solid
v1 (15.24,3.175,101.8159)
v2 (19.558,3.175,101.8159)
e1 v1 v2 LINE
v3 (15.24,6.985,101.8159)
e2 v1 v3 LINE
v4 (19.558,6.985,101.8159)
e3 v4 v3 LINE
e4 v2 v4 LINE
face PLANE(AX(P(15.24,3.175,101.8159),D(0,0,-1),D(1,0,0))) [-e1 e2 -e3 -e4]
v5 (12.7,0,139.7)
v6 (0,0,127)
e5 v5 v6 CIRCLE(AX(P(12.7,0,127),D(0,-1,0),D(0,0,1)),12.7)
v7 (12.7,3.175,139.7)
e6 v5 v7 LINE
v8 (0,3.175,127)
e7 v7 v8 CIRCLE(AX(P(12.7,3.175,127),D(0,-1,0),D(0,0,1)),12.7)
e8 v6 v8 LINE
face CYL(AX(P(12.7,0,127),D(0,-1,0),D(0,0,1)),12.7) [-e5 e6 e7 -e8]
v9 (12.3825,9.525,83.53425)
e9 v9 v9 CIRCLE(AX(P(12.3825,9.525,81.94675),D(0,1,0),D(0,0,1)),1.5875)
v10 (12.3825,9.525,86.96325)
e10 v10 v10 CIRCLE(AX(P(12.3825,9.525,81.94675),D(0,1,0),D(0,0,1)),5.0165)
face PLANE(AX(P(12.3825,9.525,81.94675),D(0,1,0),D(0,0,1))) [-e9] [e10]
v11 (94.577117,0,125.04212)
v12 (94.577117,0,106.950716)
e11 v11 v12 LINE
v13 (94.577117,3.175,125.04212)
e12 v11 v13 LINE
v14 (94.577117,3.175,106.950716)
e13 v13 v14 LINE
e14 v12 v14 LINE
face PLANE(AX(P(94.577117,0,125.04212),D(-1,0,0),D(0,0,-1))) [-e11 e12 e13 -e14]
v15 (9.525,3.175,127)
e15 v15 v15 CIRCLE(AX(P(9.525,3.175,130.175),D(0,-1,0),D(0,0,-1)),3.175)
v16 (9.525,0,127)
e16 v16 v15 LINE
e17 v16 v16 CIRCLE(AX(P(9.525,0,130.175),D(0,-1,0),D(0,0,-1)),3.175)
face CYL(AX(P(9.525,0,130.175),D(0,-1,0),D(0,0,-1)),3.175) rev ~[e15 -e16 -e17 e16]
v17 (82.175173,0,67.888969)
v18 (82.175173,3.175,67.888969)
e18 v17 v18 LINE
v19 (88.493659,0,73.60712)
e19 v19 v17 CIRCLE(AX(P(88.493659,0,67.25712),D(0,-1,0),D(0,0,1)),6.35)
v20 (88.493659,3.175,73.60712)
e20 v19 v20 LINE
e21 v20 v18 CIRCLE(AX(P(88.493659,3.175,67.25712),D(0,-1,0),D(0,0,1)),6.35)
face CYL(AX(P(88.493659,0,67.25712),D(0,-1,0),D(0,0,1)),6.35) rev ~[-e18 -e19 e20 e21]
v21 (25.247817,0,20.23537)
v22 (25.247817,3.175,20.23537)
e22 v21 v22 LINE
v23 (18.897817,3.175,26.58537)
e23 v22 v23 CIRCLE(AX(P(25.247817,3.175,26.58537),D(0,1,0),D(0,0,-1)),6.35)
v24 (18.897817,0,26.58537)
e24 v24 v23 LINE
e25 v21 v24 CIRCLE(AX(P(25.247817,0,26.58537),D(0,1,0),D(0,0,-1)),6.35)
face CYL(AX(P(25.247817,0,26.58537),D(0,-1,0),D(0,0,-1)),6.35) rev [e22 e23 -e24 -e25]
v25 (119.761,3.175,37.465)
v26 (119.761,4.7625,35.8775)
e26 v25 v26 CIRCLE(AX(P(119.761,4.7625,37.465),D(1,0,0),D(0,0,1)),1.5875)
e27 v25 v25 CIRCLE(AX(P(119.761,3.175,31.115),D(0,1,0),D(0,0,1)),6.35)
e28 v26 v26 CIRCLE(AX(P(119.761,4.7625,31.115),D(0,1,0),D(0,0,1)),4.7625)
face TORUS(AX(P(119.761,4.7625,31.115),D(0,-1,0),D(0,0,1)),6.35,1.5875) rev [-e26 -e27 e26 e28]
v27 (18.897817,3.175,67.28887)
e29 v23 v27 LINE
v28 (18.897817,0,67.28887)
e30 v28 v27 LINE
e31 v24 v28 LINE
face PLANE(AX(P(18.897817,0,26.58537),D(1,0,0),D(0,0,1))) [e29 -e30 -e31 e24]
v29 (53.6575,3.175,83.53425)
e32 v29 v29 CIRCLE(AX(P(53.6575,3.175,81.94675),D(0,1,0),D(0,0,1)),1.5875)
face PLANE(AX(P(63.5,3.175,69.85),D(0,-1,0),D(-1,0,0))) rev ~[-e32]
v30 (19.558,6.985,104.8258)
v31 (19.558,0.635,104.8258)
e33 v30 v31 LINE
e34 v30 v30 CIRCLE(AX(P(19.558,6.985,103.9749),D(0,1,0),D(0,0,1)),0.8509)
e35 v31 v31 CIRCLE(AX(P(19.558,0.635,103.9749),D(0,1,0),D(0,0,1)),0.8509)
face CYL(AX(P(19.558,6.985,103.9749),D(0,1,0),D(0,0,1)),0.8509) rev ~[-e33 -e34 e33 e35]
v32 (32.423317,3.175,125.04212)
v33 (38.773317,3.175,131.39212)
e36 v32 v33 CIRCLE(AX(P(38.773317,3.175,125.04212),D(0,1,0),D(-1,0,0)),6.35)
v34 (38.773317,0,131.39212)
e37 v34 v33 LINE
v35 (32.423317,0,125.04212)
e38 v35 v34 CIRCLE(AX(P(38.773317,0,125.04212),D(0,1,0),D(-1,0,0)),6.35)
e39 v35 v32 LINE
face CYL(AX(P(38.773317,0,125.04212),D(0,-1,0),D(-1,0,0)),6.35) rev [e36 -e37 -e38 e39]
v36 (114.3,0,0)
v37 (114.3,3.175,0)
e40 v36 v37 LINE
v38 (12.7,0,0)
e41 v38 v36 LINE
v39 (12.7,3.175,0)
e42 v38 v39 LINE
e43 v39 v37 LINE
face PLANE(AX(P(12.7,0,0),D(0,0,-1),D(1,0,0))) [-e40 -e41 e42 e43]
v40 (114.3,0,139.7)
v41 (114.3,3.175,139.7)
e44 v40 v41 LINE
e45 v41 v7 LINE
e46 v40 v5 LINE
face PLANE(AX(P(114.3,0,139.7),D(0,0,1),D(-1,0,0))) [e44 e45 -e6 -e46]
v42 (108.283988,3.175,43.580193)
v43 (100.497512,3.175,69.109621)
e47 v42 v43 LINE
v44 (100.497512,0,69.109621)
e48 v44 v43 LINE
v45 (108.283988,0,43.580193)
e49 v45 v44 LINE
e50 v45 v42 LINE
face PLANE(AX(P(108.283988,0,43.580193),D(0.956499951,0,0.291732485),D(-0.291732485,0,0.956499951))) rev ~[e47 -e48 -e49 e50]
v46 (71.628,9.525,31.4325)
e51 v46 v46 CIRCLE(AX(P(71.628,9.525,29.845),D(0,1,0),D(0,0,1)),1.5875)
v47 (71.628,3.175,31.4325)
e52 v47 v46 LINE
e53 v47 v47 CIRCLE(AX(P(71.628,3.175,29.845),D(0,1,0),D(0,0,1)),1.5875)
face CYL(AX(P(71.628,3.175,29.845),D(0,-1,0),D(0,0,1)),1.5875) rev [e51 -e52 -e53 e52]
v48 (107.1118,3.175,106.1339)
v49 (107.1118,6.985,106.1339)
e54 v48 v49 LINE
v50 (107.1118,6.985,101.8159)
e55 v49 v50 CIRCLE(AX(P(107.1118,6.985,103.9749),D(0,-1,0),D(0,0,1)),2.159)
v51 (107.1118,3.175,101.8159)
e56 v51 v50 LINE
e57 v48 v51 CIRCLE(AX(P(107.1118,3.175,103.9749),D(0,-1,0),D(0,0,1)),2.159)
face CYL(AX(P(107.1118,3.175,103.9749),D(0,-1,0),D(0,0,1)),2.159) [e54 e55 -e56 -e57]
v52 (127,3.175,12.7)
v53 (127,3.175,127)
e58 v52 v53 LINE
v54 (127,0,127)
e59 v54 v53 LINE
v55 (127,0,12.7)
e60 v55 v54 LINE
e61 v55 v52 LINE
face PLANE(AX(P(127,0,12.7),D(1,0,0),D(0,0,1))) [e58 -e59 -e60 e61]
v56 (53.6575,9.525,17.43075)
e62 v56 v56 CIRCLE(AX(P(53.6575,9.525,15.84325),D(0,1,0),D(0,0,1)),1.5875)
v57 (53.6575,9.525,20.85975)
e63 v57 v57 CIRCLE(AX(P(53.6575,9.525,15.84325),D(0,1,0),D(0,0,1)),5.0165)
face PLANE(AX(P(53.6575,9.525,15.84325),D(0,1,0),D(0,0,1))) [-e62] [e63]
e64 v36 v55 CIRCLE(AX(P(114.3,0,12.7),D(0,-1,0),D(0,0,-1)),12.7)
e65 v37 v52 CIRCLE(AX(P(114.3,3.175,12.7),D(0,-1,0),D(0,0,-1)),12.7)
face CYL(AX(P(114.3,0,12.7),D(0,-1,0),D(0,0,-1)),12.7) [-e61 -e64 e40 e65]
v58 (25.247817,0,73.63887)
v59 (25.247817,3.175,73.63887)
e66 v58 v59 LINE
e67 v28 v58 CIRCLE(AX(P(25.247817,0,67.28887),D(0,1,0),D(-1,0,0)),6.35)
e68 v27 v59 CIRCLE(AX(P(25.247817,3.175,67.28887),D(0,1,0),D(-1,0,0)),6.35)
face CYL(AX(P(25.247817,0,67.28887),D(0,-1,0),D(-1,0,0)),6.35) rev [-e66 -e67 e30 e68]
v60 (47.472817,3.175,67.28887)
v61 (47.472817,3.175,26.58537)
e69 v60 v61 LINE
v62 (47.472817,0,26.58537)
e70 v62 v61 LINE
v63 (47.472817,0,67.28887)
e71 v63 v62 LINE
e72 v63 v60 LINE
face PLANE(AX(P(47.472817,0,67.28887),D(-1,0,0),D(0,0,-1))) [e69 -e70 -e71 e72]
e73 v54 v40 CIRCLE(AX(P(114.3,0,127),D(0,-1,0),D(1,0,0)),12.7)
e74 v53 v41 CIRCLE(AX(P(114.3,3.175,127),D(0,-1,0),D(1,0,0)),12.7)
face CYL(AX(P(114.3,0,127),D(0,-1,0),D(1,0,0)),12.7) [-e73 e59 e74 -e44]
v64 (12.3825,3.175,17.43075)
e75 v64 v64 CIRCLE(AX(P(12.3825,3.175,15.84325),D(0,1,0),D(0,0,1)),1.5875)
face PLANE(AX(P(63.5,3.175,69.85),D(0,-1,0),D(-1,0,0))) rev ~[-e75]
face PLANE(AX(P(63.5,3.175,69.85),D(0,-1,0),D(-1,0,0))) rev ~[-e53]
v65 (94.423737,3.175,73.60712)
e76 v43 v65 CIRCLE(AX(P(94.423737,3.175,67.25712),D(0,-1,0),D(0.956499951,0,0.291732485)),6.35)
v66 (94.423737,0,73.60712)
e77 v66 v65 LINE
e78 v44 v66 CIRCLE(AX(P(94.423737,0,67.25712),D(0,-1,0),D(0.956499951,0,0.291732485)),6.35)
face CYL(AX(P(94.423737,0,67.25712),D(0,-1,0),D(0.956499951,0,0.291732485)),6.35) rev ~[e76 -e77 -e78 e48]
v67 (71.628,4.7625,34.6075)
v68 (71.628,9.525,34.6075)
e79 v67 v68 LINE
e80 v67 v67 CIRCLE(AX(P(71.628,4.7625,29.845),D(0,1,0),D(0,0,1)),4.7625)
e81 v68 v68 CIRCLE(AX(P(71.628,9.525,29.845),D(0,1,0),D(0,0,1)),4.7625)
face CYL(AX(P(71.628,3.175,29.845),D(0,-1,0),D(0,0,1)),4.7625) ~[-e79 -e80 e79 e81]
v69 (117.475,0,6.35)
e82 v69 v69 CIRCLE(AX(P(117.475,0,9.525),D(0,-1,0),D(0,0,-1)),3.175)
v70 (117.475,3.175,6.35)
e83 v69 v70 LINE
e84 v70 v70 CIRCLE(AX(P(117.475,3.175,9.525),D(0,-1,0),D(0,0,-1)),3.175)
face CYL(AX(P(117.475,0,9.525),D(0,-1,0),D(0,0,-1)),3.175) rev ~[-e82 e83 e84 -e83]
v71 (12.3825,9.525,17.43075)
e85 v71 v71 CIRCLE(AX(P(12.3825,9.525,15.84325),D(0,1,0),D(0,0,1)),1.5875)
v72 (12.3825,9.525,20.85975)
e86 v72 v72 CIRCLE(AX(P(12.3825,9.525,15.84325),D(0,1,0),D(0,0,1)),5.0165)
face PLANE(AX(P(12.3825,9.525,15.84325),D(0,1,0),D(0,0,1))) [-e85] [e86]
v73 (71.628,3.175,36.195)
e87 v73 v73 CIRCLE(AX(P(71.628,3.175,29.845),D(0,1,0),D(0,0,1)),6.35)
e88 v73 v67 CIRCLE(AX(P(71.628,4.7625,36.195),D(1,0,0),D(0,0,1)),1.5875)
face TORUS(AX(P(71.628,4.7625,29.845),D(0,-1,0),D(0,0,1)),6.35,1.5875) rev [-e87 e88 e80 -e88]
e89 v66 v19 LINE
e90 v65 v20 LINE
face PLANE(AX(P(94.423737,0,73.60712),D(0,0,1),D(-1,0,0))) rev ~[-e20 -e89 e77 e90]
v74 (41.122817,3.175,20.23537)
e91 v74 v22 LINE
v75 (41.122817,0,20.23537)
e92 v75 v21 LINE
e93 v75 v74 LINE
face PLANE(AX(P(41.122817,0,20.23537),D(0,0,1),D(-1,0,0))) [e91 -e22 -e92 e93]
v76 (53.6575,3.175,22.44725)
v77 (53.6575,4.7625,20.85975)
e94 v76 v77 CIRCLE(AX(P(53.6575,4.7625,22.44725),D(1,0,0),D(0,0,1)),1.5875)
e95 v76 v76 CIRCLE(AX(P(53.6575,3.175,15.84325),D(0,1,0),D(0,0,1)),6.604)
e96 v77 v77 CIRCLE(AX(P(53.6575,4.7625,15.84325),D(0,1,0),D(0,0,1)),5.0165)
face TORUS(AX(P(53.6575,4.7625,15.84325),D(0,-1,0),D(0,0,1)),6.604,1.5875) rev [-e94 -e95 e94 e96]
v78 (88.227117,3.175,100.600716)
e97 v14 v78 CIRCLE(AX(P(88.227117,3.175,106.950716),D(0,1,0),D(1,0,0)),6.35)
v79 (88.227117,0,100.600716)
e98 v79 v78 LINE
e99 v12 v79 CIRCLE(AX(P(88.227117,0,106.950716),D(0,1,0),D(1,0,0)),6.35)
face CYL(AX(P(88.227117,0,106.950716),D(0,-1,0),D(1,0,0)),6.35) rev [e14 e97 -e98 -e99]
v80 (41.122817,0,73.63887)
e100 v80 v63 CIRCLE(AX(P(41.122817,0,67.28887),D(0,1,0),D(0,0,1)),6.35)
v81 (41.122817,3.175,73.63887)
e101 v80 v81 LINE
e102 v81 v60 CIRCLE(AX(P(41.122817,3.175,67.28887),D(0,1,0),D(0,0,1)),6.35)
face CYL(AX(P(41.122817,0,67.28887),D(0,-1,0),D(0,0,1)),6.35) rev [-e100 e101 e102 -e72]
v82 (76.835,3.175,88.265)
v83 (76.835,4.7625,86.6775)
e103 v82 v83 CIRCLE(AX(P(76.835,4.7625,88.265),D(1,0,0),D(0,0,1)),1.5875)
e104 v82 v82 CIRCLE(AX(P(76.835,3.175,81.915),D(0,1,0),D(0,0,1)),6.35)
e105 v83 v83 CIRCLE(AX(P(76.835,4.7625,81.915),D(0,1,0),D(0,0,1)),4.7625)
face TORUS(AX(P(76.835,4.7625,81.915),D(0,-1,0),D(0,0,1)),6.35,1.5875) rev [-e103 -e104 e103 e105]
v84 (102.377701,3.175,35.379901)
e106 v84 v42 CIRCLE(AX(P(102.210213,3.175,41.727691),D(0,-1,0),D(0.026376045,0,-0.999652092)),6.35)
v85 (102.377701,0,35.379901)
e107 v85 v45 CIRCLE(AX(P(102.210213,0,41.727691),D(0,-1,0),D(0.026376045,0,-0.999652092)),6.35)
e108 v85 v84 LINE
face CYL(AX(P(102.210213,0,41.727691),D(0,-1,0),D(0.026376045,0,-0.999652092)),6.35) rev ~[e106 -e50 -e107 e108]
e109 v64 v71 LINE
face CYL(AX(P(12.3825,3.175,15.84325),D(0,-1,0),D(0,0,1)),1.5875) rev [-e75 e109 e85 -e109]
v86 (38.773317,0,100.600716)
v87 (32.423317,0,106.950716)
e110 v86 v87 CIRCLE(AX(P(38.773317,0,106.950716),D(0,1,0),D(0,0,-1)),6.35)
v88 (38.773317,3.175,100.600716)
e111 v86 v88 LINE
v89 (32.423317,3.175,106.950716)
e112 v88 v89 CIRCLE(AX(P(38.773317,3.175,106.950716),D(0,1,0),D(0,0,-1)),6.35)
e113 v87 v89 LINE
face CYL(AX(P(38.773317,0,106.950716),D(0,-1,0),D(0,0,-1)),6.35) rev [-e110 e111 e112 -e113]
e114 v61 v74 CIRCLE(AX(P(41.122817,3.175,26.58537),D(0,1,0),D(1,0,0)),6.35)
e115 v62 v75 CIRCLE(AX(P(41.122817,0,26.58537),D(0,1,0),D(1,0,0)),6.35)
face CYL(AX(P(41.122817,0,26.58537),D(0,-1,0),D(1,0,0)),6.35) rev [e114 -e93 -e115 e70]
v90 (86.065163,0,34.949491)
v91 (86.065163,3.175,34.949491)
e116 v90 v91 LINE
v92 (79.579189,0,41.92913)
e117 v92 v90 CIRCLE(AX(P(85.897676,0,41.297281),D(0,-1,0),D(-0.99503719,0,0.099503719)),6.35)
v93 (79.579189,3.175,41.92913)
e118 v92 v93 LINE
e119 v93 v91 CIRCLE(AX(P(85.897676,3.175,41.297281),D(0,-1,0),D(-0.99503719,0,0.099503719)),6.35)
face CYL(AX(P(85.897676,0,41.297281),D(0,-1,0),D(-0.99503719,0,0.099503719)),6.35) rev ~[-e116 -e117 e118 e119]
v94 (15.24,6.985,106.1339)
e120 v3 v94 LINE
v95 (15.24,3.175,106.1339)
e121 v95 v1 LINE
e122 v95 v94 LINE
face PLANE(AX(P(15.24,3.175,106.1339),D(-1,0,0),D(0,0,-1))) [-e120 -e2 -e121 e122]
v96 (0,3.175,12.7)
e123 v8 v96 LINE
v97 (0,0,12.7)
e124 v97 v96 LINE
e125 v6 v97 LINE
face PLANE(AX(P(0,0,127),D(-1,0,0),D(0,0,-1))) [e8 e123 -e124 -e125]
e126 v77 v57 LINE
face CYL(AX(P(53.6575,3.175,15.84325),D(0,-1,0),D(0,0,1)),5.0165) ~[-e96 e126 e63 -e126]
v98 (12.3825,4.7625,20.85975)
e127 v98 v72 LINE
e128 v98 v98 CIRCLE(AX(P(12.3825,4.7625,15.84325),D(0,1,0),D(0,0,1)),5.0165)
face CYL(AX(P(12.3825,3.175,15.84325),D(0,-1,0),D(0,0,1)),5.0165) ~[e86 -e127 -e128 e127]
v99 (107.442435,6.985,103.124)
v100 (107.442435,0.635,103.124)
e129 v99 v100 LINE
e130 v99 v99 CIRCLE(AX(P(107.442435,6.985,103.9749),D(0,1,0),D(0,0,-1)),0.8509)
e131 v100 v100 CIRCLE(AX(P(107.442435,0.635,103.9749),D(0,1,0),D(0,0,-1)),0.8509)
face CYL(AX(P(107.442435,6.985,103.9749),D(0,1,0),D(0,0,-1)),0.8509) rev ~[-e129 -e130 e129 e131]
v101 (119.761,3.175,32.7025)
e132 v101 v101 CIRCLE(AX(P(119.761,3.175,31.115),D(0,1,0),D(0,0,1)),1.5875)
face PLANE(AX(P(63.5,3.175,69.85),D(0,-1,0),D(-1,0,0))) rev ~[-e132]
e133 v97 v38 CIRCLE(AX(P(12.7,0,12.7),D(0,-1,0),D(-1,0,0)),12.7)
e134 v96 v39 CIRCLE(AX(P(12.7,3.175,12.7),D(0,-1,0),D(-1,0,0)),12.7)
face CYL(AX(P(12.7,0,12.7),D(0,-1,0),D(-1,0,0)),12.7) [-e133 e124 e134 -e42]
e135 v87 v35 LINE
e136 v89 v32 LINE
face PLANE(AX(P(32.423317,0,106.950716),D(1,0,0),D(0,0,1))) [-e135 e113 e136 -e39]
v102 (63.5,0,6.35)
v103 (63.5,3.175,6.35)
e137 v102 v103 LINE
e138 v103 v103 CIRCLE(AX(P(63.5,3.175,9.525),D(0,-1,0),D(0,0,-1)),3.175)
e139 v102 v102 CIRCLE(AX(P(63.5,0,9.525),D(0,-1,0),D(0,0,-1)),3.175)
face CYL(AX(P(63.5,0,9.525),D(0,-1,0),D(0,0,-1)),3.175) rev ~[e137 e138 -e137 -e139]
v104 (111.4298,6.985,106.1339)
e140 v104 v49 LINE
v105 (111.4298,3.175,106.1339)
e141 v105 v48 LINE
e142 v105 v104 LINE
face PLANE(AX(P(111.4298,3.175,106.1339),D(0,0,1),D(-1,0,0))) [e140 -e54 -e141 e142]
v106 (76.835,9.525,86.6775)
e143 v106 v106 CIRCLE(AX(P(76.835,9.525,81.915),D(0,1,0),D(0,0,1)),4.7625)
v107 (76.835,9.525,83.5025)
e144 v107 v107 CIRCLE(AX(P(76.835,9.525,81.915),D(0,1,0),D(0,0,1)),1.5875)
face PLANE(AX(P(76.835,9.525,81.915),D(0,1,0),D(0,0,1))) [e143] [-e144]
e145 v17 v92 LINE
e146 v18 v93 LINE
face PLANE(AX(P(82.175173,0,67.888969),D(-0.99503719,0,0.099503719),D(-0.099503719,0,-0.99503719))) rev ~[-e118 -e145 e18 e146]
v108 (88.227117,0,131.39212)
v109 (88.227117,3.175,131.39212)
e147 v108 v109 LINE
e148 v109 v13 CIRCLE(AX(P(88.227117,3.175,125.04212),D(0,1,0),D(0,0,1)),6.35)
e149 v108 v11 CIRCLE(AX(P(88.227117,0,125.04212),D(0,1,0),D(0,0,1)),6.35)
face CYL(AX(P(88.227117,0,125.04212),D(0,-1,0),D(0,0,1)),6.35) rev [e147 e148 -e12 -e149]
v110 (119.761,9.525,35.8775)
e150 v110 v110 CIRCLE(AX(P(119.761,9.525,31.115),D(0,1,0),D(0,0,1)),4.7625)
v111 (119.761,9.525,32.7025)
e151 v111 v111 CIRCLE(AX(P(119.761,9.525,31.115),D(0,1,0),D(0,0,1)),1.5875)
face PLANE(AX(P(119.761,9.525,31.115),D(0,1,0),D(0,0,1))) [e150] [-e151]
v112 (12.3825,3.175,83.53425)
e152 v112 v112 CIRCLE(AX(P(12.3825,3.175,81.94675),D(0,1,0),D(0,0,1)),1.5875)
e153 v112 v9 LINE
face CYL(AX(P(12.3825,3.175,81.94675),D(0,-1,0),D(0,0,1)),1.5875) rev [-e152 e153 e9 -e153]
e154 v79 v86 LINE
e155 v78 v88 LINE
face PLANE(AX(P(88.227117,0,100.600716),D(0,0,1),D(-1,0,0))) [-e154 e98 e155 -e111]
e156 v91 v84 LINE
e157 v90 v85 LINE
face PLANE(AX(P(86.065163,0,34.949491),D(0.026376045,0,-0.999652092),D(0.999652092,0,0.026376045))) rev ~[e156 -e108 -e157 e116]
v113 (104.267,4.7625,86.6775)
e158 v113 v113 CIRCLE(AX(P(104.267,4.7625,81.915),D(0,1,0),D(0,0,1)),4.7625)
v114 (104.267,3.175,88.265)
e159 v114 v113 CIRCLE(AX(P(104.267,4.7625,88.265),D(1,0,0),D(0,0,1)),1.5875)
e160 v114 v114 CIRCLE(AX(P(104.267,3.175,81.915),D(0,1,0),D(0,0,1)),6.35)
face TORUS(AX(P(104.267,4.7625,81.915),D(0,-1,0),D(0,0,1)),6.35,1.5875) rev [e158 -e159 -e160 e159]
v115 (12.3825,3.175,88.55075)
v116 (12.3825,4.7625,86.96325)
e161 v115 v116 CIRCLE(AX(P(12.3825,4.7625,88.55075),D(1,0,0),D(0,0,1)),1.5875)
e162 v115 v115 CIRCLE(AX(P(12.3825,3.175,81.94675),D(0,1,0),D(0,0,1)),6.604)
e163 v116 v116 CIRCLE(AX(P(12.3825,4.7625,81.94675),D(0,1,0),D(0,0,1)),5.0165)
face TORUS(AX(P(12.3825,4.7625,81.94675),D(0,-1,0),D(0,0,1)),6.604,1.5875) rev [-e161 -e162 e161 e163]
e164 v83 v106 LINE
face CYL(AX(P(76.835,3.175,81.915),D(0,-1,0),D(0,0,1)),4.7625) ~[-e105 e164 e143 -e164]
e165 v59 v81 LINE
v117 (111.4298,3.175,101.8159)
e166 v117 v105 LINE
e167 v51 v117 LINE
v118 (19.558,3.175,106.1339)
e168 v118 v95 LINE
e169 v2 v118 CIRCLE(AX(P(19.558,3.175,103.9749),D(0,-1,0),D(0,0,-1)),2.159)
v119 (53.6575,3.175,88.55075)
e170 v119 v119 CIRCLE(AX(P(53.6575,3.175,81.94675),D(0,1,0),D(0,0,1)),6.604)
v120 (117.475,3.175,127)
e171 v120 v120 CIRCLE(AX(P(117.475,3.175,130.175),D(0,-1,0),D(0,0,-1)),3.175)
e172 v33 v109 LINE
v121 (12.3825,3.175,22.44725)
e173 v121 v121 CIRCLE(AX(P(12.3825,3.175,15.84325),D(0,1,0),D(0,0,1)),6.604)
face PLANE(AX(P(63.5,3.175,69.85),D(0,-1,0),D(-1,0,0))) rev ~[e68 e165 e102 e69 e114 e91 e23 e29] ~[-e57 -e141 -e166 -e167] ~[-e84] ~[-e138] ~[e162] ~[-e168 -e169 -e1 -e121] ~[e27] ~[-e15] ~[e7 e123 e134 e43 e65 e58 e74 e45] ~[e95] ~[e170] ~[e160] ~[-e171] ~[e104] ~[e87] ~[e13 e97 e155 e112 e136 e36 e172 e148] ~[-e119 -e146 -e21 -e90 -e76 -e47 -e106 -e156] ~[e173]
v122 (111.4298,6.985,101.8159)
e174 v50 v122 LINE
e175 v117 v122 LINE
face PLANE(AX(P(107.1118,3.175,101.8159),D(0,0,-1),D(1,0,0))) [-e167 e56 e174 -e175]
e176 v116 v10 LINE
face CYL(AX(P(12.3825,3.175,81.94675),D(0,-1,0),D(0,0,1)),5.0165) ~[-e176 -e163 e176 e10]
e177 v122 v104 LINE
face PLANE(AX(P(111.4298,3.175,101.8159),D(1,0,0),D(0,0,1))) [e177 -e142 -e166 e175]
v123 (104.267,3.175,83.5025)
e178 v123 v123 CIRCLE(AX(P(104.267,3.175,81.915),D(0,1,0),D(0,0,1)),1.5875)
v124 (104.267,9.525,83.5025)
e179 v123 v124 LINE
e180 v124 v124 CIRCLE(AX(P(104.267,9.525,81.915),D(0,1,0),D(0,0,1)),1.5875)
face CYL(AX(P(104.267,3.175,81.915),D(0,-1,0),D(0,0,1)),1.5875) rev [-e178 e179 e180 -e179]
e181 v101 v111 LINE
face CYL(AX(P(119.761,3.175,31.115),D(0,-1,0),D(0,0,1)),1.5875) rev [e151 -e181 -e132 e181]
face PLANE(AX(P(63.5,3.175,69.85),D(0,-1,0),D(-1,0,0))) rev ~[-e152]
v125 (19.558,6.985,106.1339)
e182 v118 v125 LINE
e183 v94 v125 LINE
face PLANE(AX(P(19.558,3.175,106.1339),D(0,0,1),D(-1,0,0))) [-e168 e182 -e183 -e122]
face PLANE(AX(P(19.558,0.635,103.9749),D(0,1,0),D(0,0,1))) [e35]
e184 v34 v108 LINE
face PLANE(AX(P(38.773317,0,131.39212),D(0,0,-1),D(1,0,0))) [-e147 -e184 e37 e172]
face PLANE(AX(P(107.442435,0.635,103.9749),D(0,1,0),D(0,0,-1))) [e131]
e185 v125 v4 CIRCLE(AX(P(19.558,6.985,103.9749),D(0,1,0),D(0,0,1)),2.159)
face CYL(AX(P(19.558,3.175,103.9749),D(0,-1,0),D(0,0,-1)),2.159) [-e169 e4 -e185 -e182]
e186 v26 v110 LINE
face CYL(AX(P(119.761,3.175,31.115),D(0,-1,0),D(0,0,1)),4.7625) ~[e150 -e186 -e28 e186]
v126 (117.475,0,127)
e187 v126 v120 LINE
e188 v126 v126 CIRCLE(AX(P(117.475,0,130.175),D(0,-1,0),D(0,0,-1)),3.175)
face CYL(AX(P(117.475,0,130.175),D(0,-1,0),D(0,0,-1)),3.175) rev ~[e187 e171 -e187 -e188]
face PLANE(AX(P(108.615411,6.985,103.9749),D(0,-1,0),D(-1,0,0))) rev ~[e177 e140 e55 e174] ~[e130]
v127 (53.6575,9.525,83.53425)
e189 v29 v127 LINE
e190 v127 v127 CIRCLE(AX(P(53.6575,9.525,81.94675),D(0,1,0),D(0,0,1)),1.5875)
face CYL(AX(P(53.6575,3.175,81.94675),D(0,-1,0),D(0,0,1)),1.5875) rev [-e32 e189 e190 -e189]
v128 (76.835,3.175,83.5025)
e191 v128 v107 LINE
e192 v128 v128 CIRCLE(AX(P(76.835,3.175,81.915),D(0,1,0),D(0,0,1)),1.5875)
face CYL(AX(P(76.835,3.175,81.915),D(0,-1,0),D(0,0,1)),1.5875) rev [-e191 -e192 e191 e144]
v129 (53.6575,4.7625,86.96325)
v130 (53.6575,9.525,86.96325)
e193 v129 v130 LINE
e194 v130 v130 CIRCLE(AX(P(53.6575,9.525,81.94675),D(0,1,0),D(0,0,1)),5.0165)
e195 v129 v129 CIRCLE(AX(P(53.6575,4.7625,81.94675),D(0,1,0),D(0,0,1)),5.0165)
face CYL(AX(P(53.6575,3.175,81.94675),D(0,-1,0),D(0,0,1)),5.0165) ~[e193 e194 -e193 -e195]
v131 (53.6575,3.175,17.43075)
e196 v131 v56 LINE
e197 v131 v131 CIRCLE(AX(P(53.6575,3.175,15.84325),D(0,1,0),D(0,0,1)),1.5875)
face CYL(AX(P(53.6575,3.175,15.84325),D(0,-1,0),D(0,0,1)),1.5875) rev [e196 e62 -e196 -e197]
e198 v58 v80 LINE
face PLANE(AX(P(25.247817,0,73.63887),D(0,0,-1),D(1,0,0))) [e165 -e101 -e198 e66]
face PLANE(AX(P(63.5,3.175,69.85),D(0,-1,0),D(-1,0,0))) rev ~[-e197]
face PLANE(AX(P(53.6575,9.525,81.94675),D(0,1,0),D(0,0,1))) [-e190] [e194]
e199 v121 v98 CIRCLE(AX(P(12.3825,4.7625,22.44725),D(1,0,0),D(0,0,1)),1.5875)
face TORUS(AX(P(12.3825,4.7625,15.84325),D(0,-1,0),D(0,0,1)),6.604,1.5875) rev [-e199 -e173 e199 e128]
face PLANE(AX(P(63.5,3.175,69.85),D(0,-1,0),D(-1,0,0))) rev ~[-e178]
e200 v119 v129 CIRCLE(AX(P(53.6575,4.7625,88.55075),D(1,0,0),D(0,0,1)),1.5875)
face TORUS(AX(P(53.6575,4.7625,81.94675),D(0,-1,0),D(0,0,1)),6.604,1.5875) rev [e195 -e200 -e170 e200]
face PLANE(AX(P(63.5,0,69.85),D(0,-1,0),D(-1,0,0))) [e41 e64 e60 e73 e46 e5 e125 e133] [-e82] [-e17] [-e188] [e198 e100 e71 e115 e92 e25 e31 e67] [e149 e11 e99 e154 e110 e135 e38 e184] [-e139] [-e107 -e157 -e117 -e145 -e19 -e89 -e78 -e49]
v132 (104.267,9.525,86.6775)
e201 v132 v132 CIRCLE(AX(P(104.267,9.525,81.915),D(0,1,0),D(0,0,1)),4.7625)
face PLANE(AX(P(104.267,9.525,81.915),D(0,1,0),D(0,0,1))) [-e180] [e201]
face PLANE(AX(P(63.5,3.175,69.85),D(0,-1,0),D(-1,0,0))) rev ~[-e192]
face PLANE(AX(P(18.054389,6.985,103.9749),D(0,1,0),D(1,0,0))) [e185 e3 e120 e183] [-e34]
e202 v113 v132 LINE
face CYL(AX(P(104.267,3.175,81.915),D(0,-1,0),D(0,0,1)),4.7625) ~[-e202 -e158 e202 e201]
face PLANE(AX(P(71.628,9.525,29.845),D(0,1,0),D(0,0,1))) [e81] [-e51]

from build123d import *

# Parameters (mm, degrees)
BOSS_EXTRUDE5_DEPTH = 3.175
SKETCH2_R           = 5.0165
SKETCH2_R_2         = 1.5875
SKETCH2_R_3         = 4.7625
BOSS_EXTRUDE6_DEPTH = 6.35
CUT_EXTRUDE1_START  = -2.54
CUT_EXTRUDE1_DEPTH  = 2.54
SKETCH4_R           = 3.175
CUT_EXTRUDE2_DEPTH  = 3.175
FILLET1_R           = 1.5875
SKETCH5_R           = 0.8509
CUT_EXTRUDE3_DEPTH  = 6.35


with BuildPart() as part:
    # Sketch1 → Boss-Extrude5 (new body)
    with BuildSketch(Plane(origin=(0, 0, 0), x_dir=(1, 0, 0), z_dir=(0, 1, 0))):
        with BuildLine():
            Line((12.7, 0), (114.3, 0))
            ThreePointArc((114.3, 0), (123.280256121, -3.719743879), (127, -12.7))
            Line((127, -12.7), (127, -127))
            ThreePointArc((127, -127), (123.280256121, -135.980256121), (114.3, -139.7))
            Line((114.3, -139.7), (12.7, -139.7))
            ThreePointArc((12.7, -139.7), (3.719743879, -135.980256121), (0, -127))
            Line((0, -127), (0, -12.7))
            ThreePointArc((0, -12.7), (3.719743879, -3.719743879), (12.7, 0))
        make_face()
    extrude(amount=BOSS_EXTRUDE5_DEPTH)

    # Sketch2 → Boss-Extrude6 (add)
    # profile 1 of 10: a face of its own
    with BuildSketch(Plane(origin=(0, 3.175, 0), x_dir=(1, 0, 0), z_dir=(0, 1, 0))):
        with Locations(Location((12.3825, -15.84325, 0), (0, 0, 270))):
            Circle(SKETCH2_R)
        with Locations(Location((12.3825, -15.84325, 0), (0, 0, 270))):
            Circle(SKETCH2_R_2, mode=Mode.SUBTRACT)
    # profile 2 of 10: a face of its own
    with BuildSketch(Plane(origin=(0, 3.175, 0), x_dir=(1, 0, 0), z_dir=(0, 1, 0))):
        with Locations(Location((53.6575, -15.84325, 0), (0, 0, 270))):
            Circle(SKETCH2_R)
        with Locations(Location((53.6575, -15.84325, 0), (0, 0, 270))):
            Circle(SKETCH2_R_2, mode=Mode.SUBTRACT)
    # profile 3 of 10: a face of its own
    with BuildSketch(Plane(origin=(0, 3.175, 0), x_dir=(1, 0, 0), z_dir=(0, 1, 0))):
        with Locations(Location((71.628, -29.845, 0), (0, 0, 270))):
            Circle(SKETCH2_R_3)
        with Locations(Location((71.628, -29.845, 0), (0, 0, 270))):
            Circle(SKETCH2_R_2, mode=Mode.SUBTRACT)
    # profile 4 of 10: a face of its own
    with BuildSketch(Plane(origin=(0, 3.175, 0), x_dir=(1, 0, 0), z_dir=(0, 1, 0))):
        with Locations(Location((119.761, -31.115, 0), (0, 0, 270))):
            Circle(SKETCH2_R_3)
        with Locations(Location((119.761, -31.115, 0), (0, 0, 270))):
            Circle(SKETCH2_R_2, mode=Mode.SUBTRACT)
    # profile 5 of 10: a face of its own
    with BuildSketch(Plane(origin=(0, 3.175, 0), x_dir=(1, 0, 0), z_dir=(0, 1, 0))):
        with Locations(Location((104.267, -81.915, 0), (0, 0, 270))):
            Circle(SKETCH2_R_3)
        with Locations(Location((104.267, -81.915, 0), (0, 0, 270))):
            Circle(SKETCH2_R_2, mode=Mode.SUBTRACT)
    # profile 6 of 10: a face of its own
    with BuildSketch(Plane(origin=(0, 3.175, 0), x_dir=(1, 0, 0), z_dir=(0, 1, 0))):
        with Locations(Location((76.835, -81.915, 0), (0, 0, 270))):
            Circle(SKETCH2_R_3)
        with Locations(Location((76.835, -81.915, 0), (0, 0, 270))):
            Circle(SKETCH2_R_2, mode=Mode.SUBTRACT)
    # profile 7 of 10: a face of its own
    with BuildSketch(Plane(origin=(0, 3.175, 0), x_dir=(1, 0, 0), z_dir=(0, 1, 0))):
        with Locations(Location((53.6575, -81.94675, 0), (0, 0, 270))):
            Circle(SKETCH2_R)
        with Locations(Location((53.6575, -81.94675, 0), (0, 0, 270))):
            Circle(SKETCH2_R_2, mode=Mode.SUBTRACT)
    # profile 8 of 10: a face of its own
    with BuildSketch(Plane(origin=(0, 3.175, 0), x_dir=(1, 0, 0), z_dir=(0, 1, 0))):
        with Locations(Location((12.3825, -81.94675, 0), (0, 0, 270))):
            Circle(SKETCH2_R)
        with Locations(Location((12.3825, -81.94675, 0), (0, 0, 270))):
            Circle(SKETCH2_R_2, mode=Mode.SUBTRACT)
    # profile 9 of 10: a face of its own
    with BuildSketch(Plane(origin=(0, 3.175, 0), x_dir=(1, 0, 0), z_dir=(0, 1, 0))):
        with BuildLine():
            Line((15.24, -106.1339), (15.24, -101.8159))
            Line((15.24, -101.8159), (19.558, -101.8159))
            ThreePointArc((19.558, -101.8159), (21.717, -103.9749), (19.558, -106.1339))
            Line((19.558, -106.1339), (15.24, -106.1339))
        make_face()
    # profile 10 of 10: a face of its own
    with BuildSketch(Plane(origin=(0, 3.175, 0), x_dir=(1, 0, 0), z_dir=(0, 1, 0))):
        with BuildLine():
            Line((107.1118, -101.8159), (111.4298, -101.8159))
            Line((111.4298, -101.8159), (111.4298, -106.1339))
            Line((111.4298, -106.1339), (107.1118, -106.1339))
            ThreePointArc((107.1118, -106.1339), (104.9528, -103.9749), (107.1118, -101.8159))
        make_face()
    extrude(amount=BOSS_EXTRUDE6_DEPTH)

    # Sketch3 → Cut-Extrude1 (cut)
    with BuildSketch(Plane(origin=(0, 9.525, 0), x_dir=(1, 0, 0), z_dir=(0, 1, 0)).offset(CUT_EXTRUDE1_START)):
        with BuildLine():
            Line((19.558, -101.8159), (15.24, -101.8159))
            Line((15.24, -101.8159), (15.24, -106.1339))
            Line((15.24, -106.1339), (19.558, -106.1339))
            ThreePointArc((19.558, -106.1339), (21.717, -103.9749), (19.558, -101.8159))
        make_face()
        with BuildLine():
            Line((111.4298, -101.8159), (111.4298, -106.1339))
            Line((111.4298, -106.1339), (107.1118, -106.1339))
            ThreePointArc((107.1118, -106.1339), (104.9528, -103.9749), (107.1118, -101.8159))
            Line((107.1118, -101.8159), (111.4298, -101.8159))
        make_face()
    extrude(amount=CUT_EXTRUDE1_DEPTH, mode=Mode.SUBTRACT)

    # Sketch4 → Cut-Extrude2 (cut)
    with BuildSketch(Plane.XZ):
        with Locations(Location((117.475, 130.175, 0), (0, 0, 270))):
            Circle(SKETCH4_R)
        with Locations(Location((117.475, 9.525, 0), (0, 0, 270))):
            Circle(SKETCH4_R)
        with Locations(Location((9.525, 130.175, 0), (0, 0, 270))):
            Circle(SKETCH4_R)
        with Locations(Location((63.5, 9.525, 0), (0, 0, 270))):
            Circle(SKETCH4_R)
        with BuildLine():
            Line((32.423317369, 106.950716075), (32.423317369, 125.042120111))
            ThreePointArc((32.423317369, 125.042120111), (34.283189309, 129.532248172), (38.773317369, 131.392120111))
            Line((38.773317369, 131.392120111), (88.227117369, 131.392120111))
            ThreePointArc((88.227117369, 131.392120111), (92.71724543, 129.532248172), (94.577117369, 125.042120111))
            Line((94.577117369, 125.042120111), (94.577117369, 106.950716075))
            ThreePointArc((94.577117369, 106.950716075), (92.71724543, 102.460588015), (88.227117369, 100.600716075))
            Line((88.227117369, 100.600716075), (38.773317369, 100.600716075))
            ThreePointArc((38.773317369, 100.600716075), (34.283189309, 102.460588015), (32.423317369, 106.950716075))
        make_face()
        with BuildLine():
            Line((82.17517325, 67.888968727), (79.579189386, 41.929130088))
            ThreePointArc((79.579189386, 41.929130088), (81.246059, 36.974670742), (86.065163428, 34.949490691))
            Line((86.065163428, 34.949490691), (102.377701049, 35.379900654))
            ThreePointArc((102.377701049, 35.379900654), (107.362837459, 38.016497169), (108.283987857, 43.580192717))
            Line((108.283987857, 43.580192717), (100.497512111, 69.109621392))
            ThreePointArc((100.497512111, 69.109621392), (98.202567719, 72.360348655), (94.42373742, 73.607120111))
            Line((94.42373742, 73.607120111), (88.493659408, 73.607120111))
            ThreePointArc((88.493659408, 73.607120111), (84.232775621, 71.965343699), (82.17517325, 67.888968727))
        make_face()
        with BuildLine():
            Line((18.897817369, 26.585370111), (18.897817369, 67.288870111))
            ThreePointArc((18.897817369, 67.288870111), (20.757689309, 71.778998172), (25.247817369, 73.638870111))
            Line((25.247817369, 73.638870111), (41.122817369, 73.638870111))
            ThreePointArc((41.122817369, 73.638870111), (45.61294543, 71.778998172), (47.472817369, 67.288870111))
            Line((47.472817369, 67.288870111), (47.472817369, 26.585370111))
            ThreePointArc((47.472817369, 26.585370111), (45.61294543, 22.095242051), (41.122817369, 20.235370111))
            Line((41.122817369, 20.235370111), (25.247817369, 20.235370111))
            ThreePointArc((25.247817369, 20.235370111), (20.757689309, 22.095242051), (18.897817369, 26.585370111))
        make_face()
    extrude(amount=-CUT_EXTRUDE2_DEPTH, mode=Mode.SUBTRACT)

    # Fillet1
    fillet1_edges = [part.edges().sort_by_distance(p)[0] for p in [
        (12.3825, 3.175, 10.82675),
        (53.6575, 3.175, 10.82675),
        (71.628, 3.175, 25.0825),
        (119.761, 3.175, 26.3525),
        (104.267, 3.175, 77.1525),
        (76.835, 3.175, 77.1525),
        (53.6575, 3.175, 76.93025),
        (12.3825, 3.175, 76.93025),
    ]]
    fillet(fillet1_edges, radius=FILLET1_R)

    # Sketch5 → Cut-Extrude3 (cut)
    with BuildSketch(Plane(origin=(0, 6.985, 0), x_dir=(1, 0, 0), z_dir=(0, 1, 0))):
        with Locations(Location((107.442434738, -103.9749, 0), (0, 0, 90))):
            Circle(SKETCH5_R)
        with Locations(Location((19.558, -103.9749, 0), (0, 0, 270))):
            Circle(SKETCH5_R)
    extrude(amount=-CUT_EXTRUDE3_DEPTH, mode=Mode.SUBTRACT)


solid = part.part
